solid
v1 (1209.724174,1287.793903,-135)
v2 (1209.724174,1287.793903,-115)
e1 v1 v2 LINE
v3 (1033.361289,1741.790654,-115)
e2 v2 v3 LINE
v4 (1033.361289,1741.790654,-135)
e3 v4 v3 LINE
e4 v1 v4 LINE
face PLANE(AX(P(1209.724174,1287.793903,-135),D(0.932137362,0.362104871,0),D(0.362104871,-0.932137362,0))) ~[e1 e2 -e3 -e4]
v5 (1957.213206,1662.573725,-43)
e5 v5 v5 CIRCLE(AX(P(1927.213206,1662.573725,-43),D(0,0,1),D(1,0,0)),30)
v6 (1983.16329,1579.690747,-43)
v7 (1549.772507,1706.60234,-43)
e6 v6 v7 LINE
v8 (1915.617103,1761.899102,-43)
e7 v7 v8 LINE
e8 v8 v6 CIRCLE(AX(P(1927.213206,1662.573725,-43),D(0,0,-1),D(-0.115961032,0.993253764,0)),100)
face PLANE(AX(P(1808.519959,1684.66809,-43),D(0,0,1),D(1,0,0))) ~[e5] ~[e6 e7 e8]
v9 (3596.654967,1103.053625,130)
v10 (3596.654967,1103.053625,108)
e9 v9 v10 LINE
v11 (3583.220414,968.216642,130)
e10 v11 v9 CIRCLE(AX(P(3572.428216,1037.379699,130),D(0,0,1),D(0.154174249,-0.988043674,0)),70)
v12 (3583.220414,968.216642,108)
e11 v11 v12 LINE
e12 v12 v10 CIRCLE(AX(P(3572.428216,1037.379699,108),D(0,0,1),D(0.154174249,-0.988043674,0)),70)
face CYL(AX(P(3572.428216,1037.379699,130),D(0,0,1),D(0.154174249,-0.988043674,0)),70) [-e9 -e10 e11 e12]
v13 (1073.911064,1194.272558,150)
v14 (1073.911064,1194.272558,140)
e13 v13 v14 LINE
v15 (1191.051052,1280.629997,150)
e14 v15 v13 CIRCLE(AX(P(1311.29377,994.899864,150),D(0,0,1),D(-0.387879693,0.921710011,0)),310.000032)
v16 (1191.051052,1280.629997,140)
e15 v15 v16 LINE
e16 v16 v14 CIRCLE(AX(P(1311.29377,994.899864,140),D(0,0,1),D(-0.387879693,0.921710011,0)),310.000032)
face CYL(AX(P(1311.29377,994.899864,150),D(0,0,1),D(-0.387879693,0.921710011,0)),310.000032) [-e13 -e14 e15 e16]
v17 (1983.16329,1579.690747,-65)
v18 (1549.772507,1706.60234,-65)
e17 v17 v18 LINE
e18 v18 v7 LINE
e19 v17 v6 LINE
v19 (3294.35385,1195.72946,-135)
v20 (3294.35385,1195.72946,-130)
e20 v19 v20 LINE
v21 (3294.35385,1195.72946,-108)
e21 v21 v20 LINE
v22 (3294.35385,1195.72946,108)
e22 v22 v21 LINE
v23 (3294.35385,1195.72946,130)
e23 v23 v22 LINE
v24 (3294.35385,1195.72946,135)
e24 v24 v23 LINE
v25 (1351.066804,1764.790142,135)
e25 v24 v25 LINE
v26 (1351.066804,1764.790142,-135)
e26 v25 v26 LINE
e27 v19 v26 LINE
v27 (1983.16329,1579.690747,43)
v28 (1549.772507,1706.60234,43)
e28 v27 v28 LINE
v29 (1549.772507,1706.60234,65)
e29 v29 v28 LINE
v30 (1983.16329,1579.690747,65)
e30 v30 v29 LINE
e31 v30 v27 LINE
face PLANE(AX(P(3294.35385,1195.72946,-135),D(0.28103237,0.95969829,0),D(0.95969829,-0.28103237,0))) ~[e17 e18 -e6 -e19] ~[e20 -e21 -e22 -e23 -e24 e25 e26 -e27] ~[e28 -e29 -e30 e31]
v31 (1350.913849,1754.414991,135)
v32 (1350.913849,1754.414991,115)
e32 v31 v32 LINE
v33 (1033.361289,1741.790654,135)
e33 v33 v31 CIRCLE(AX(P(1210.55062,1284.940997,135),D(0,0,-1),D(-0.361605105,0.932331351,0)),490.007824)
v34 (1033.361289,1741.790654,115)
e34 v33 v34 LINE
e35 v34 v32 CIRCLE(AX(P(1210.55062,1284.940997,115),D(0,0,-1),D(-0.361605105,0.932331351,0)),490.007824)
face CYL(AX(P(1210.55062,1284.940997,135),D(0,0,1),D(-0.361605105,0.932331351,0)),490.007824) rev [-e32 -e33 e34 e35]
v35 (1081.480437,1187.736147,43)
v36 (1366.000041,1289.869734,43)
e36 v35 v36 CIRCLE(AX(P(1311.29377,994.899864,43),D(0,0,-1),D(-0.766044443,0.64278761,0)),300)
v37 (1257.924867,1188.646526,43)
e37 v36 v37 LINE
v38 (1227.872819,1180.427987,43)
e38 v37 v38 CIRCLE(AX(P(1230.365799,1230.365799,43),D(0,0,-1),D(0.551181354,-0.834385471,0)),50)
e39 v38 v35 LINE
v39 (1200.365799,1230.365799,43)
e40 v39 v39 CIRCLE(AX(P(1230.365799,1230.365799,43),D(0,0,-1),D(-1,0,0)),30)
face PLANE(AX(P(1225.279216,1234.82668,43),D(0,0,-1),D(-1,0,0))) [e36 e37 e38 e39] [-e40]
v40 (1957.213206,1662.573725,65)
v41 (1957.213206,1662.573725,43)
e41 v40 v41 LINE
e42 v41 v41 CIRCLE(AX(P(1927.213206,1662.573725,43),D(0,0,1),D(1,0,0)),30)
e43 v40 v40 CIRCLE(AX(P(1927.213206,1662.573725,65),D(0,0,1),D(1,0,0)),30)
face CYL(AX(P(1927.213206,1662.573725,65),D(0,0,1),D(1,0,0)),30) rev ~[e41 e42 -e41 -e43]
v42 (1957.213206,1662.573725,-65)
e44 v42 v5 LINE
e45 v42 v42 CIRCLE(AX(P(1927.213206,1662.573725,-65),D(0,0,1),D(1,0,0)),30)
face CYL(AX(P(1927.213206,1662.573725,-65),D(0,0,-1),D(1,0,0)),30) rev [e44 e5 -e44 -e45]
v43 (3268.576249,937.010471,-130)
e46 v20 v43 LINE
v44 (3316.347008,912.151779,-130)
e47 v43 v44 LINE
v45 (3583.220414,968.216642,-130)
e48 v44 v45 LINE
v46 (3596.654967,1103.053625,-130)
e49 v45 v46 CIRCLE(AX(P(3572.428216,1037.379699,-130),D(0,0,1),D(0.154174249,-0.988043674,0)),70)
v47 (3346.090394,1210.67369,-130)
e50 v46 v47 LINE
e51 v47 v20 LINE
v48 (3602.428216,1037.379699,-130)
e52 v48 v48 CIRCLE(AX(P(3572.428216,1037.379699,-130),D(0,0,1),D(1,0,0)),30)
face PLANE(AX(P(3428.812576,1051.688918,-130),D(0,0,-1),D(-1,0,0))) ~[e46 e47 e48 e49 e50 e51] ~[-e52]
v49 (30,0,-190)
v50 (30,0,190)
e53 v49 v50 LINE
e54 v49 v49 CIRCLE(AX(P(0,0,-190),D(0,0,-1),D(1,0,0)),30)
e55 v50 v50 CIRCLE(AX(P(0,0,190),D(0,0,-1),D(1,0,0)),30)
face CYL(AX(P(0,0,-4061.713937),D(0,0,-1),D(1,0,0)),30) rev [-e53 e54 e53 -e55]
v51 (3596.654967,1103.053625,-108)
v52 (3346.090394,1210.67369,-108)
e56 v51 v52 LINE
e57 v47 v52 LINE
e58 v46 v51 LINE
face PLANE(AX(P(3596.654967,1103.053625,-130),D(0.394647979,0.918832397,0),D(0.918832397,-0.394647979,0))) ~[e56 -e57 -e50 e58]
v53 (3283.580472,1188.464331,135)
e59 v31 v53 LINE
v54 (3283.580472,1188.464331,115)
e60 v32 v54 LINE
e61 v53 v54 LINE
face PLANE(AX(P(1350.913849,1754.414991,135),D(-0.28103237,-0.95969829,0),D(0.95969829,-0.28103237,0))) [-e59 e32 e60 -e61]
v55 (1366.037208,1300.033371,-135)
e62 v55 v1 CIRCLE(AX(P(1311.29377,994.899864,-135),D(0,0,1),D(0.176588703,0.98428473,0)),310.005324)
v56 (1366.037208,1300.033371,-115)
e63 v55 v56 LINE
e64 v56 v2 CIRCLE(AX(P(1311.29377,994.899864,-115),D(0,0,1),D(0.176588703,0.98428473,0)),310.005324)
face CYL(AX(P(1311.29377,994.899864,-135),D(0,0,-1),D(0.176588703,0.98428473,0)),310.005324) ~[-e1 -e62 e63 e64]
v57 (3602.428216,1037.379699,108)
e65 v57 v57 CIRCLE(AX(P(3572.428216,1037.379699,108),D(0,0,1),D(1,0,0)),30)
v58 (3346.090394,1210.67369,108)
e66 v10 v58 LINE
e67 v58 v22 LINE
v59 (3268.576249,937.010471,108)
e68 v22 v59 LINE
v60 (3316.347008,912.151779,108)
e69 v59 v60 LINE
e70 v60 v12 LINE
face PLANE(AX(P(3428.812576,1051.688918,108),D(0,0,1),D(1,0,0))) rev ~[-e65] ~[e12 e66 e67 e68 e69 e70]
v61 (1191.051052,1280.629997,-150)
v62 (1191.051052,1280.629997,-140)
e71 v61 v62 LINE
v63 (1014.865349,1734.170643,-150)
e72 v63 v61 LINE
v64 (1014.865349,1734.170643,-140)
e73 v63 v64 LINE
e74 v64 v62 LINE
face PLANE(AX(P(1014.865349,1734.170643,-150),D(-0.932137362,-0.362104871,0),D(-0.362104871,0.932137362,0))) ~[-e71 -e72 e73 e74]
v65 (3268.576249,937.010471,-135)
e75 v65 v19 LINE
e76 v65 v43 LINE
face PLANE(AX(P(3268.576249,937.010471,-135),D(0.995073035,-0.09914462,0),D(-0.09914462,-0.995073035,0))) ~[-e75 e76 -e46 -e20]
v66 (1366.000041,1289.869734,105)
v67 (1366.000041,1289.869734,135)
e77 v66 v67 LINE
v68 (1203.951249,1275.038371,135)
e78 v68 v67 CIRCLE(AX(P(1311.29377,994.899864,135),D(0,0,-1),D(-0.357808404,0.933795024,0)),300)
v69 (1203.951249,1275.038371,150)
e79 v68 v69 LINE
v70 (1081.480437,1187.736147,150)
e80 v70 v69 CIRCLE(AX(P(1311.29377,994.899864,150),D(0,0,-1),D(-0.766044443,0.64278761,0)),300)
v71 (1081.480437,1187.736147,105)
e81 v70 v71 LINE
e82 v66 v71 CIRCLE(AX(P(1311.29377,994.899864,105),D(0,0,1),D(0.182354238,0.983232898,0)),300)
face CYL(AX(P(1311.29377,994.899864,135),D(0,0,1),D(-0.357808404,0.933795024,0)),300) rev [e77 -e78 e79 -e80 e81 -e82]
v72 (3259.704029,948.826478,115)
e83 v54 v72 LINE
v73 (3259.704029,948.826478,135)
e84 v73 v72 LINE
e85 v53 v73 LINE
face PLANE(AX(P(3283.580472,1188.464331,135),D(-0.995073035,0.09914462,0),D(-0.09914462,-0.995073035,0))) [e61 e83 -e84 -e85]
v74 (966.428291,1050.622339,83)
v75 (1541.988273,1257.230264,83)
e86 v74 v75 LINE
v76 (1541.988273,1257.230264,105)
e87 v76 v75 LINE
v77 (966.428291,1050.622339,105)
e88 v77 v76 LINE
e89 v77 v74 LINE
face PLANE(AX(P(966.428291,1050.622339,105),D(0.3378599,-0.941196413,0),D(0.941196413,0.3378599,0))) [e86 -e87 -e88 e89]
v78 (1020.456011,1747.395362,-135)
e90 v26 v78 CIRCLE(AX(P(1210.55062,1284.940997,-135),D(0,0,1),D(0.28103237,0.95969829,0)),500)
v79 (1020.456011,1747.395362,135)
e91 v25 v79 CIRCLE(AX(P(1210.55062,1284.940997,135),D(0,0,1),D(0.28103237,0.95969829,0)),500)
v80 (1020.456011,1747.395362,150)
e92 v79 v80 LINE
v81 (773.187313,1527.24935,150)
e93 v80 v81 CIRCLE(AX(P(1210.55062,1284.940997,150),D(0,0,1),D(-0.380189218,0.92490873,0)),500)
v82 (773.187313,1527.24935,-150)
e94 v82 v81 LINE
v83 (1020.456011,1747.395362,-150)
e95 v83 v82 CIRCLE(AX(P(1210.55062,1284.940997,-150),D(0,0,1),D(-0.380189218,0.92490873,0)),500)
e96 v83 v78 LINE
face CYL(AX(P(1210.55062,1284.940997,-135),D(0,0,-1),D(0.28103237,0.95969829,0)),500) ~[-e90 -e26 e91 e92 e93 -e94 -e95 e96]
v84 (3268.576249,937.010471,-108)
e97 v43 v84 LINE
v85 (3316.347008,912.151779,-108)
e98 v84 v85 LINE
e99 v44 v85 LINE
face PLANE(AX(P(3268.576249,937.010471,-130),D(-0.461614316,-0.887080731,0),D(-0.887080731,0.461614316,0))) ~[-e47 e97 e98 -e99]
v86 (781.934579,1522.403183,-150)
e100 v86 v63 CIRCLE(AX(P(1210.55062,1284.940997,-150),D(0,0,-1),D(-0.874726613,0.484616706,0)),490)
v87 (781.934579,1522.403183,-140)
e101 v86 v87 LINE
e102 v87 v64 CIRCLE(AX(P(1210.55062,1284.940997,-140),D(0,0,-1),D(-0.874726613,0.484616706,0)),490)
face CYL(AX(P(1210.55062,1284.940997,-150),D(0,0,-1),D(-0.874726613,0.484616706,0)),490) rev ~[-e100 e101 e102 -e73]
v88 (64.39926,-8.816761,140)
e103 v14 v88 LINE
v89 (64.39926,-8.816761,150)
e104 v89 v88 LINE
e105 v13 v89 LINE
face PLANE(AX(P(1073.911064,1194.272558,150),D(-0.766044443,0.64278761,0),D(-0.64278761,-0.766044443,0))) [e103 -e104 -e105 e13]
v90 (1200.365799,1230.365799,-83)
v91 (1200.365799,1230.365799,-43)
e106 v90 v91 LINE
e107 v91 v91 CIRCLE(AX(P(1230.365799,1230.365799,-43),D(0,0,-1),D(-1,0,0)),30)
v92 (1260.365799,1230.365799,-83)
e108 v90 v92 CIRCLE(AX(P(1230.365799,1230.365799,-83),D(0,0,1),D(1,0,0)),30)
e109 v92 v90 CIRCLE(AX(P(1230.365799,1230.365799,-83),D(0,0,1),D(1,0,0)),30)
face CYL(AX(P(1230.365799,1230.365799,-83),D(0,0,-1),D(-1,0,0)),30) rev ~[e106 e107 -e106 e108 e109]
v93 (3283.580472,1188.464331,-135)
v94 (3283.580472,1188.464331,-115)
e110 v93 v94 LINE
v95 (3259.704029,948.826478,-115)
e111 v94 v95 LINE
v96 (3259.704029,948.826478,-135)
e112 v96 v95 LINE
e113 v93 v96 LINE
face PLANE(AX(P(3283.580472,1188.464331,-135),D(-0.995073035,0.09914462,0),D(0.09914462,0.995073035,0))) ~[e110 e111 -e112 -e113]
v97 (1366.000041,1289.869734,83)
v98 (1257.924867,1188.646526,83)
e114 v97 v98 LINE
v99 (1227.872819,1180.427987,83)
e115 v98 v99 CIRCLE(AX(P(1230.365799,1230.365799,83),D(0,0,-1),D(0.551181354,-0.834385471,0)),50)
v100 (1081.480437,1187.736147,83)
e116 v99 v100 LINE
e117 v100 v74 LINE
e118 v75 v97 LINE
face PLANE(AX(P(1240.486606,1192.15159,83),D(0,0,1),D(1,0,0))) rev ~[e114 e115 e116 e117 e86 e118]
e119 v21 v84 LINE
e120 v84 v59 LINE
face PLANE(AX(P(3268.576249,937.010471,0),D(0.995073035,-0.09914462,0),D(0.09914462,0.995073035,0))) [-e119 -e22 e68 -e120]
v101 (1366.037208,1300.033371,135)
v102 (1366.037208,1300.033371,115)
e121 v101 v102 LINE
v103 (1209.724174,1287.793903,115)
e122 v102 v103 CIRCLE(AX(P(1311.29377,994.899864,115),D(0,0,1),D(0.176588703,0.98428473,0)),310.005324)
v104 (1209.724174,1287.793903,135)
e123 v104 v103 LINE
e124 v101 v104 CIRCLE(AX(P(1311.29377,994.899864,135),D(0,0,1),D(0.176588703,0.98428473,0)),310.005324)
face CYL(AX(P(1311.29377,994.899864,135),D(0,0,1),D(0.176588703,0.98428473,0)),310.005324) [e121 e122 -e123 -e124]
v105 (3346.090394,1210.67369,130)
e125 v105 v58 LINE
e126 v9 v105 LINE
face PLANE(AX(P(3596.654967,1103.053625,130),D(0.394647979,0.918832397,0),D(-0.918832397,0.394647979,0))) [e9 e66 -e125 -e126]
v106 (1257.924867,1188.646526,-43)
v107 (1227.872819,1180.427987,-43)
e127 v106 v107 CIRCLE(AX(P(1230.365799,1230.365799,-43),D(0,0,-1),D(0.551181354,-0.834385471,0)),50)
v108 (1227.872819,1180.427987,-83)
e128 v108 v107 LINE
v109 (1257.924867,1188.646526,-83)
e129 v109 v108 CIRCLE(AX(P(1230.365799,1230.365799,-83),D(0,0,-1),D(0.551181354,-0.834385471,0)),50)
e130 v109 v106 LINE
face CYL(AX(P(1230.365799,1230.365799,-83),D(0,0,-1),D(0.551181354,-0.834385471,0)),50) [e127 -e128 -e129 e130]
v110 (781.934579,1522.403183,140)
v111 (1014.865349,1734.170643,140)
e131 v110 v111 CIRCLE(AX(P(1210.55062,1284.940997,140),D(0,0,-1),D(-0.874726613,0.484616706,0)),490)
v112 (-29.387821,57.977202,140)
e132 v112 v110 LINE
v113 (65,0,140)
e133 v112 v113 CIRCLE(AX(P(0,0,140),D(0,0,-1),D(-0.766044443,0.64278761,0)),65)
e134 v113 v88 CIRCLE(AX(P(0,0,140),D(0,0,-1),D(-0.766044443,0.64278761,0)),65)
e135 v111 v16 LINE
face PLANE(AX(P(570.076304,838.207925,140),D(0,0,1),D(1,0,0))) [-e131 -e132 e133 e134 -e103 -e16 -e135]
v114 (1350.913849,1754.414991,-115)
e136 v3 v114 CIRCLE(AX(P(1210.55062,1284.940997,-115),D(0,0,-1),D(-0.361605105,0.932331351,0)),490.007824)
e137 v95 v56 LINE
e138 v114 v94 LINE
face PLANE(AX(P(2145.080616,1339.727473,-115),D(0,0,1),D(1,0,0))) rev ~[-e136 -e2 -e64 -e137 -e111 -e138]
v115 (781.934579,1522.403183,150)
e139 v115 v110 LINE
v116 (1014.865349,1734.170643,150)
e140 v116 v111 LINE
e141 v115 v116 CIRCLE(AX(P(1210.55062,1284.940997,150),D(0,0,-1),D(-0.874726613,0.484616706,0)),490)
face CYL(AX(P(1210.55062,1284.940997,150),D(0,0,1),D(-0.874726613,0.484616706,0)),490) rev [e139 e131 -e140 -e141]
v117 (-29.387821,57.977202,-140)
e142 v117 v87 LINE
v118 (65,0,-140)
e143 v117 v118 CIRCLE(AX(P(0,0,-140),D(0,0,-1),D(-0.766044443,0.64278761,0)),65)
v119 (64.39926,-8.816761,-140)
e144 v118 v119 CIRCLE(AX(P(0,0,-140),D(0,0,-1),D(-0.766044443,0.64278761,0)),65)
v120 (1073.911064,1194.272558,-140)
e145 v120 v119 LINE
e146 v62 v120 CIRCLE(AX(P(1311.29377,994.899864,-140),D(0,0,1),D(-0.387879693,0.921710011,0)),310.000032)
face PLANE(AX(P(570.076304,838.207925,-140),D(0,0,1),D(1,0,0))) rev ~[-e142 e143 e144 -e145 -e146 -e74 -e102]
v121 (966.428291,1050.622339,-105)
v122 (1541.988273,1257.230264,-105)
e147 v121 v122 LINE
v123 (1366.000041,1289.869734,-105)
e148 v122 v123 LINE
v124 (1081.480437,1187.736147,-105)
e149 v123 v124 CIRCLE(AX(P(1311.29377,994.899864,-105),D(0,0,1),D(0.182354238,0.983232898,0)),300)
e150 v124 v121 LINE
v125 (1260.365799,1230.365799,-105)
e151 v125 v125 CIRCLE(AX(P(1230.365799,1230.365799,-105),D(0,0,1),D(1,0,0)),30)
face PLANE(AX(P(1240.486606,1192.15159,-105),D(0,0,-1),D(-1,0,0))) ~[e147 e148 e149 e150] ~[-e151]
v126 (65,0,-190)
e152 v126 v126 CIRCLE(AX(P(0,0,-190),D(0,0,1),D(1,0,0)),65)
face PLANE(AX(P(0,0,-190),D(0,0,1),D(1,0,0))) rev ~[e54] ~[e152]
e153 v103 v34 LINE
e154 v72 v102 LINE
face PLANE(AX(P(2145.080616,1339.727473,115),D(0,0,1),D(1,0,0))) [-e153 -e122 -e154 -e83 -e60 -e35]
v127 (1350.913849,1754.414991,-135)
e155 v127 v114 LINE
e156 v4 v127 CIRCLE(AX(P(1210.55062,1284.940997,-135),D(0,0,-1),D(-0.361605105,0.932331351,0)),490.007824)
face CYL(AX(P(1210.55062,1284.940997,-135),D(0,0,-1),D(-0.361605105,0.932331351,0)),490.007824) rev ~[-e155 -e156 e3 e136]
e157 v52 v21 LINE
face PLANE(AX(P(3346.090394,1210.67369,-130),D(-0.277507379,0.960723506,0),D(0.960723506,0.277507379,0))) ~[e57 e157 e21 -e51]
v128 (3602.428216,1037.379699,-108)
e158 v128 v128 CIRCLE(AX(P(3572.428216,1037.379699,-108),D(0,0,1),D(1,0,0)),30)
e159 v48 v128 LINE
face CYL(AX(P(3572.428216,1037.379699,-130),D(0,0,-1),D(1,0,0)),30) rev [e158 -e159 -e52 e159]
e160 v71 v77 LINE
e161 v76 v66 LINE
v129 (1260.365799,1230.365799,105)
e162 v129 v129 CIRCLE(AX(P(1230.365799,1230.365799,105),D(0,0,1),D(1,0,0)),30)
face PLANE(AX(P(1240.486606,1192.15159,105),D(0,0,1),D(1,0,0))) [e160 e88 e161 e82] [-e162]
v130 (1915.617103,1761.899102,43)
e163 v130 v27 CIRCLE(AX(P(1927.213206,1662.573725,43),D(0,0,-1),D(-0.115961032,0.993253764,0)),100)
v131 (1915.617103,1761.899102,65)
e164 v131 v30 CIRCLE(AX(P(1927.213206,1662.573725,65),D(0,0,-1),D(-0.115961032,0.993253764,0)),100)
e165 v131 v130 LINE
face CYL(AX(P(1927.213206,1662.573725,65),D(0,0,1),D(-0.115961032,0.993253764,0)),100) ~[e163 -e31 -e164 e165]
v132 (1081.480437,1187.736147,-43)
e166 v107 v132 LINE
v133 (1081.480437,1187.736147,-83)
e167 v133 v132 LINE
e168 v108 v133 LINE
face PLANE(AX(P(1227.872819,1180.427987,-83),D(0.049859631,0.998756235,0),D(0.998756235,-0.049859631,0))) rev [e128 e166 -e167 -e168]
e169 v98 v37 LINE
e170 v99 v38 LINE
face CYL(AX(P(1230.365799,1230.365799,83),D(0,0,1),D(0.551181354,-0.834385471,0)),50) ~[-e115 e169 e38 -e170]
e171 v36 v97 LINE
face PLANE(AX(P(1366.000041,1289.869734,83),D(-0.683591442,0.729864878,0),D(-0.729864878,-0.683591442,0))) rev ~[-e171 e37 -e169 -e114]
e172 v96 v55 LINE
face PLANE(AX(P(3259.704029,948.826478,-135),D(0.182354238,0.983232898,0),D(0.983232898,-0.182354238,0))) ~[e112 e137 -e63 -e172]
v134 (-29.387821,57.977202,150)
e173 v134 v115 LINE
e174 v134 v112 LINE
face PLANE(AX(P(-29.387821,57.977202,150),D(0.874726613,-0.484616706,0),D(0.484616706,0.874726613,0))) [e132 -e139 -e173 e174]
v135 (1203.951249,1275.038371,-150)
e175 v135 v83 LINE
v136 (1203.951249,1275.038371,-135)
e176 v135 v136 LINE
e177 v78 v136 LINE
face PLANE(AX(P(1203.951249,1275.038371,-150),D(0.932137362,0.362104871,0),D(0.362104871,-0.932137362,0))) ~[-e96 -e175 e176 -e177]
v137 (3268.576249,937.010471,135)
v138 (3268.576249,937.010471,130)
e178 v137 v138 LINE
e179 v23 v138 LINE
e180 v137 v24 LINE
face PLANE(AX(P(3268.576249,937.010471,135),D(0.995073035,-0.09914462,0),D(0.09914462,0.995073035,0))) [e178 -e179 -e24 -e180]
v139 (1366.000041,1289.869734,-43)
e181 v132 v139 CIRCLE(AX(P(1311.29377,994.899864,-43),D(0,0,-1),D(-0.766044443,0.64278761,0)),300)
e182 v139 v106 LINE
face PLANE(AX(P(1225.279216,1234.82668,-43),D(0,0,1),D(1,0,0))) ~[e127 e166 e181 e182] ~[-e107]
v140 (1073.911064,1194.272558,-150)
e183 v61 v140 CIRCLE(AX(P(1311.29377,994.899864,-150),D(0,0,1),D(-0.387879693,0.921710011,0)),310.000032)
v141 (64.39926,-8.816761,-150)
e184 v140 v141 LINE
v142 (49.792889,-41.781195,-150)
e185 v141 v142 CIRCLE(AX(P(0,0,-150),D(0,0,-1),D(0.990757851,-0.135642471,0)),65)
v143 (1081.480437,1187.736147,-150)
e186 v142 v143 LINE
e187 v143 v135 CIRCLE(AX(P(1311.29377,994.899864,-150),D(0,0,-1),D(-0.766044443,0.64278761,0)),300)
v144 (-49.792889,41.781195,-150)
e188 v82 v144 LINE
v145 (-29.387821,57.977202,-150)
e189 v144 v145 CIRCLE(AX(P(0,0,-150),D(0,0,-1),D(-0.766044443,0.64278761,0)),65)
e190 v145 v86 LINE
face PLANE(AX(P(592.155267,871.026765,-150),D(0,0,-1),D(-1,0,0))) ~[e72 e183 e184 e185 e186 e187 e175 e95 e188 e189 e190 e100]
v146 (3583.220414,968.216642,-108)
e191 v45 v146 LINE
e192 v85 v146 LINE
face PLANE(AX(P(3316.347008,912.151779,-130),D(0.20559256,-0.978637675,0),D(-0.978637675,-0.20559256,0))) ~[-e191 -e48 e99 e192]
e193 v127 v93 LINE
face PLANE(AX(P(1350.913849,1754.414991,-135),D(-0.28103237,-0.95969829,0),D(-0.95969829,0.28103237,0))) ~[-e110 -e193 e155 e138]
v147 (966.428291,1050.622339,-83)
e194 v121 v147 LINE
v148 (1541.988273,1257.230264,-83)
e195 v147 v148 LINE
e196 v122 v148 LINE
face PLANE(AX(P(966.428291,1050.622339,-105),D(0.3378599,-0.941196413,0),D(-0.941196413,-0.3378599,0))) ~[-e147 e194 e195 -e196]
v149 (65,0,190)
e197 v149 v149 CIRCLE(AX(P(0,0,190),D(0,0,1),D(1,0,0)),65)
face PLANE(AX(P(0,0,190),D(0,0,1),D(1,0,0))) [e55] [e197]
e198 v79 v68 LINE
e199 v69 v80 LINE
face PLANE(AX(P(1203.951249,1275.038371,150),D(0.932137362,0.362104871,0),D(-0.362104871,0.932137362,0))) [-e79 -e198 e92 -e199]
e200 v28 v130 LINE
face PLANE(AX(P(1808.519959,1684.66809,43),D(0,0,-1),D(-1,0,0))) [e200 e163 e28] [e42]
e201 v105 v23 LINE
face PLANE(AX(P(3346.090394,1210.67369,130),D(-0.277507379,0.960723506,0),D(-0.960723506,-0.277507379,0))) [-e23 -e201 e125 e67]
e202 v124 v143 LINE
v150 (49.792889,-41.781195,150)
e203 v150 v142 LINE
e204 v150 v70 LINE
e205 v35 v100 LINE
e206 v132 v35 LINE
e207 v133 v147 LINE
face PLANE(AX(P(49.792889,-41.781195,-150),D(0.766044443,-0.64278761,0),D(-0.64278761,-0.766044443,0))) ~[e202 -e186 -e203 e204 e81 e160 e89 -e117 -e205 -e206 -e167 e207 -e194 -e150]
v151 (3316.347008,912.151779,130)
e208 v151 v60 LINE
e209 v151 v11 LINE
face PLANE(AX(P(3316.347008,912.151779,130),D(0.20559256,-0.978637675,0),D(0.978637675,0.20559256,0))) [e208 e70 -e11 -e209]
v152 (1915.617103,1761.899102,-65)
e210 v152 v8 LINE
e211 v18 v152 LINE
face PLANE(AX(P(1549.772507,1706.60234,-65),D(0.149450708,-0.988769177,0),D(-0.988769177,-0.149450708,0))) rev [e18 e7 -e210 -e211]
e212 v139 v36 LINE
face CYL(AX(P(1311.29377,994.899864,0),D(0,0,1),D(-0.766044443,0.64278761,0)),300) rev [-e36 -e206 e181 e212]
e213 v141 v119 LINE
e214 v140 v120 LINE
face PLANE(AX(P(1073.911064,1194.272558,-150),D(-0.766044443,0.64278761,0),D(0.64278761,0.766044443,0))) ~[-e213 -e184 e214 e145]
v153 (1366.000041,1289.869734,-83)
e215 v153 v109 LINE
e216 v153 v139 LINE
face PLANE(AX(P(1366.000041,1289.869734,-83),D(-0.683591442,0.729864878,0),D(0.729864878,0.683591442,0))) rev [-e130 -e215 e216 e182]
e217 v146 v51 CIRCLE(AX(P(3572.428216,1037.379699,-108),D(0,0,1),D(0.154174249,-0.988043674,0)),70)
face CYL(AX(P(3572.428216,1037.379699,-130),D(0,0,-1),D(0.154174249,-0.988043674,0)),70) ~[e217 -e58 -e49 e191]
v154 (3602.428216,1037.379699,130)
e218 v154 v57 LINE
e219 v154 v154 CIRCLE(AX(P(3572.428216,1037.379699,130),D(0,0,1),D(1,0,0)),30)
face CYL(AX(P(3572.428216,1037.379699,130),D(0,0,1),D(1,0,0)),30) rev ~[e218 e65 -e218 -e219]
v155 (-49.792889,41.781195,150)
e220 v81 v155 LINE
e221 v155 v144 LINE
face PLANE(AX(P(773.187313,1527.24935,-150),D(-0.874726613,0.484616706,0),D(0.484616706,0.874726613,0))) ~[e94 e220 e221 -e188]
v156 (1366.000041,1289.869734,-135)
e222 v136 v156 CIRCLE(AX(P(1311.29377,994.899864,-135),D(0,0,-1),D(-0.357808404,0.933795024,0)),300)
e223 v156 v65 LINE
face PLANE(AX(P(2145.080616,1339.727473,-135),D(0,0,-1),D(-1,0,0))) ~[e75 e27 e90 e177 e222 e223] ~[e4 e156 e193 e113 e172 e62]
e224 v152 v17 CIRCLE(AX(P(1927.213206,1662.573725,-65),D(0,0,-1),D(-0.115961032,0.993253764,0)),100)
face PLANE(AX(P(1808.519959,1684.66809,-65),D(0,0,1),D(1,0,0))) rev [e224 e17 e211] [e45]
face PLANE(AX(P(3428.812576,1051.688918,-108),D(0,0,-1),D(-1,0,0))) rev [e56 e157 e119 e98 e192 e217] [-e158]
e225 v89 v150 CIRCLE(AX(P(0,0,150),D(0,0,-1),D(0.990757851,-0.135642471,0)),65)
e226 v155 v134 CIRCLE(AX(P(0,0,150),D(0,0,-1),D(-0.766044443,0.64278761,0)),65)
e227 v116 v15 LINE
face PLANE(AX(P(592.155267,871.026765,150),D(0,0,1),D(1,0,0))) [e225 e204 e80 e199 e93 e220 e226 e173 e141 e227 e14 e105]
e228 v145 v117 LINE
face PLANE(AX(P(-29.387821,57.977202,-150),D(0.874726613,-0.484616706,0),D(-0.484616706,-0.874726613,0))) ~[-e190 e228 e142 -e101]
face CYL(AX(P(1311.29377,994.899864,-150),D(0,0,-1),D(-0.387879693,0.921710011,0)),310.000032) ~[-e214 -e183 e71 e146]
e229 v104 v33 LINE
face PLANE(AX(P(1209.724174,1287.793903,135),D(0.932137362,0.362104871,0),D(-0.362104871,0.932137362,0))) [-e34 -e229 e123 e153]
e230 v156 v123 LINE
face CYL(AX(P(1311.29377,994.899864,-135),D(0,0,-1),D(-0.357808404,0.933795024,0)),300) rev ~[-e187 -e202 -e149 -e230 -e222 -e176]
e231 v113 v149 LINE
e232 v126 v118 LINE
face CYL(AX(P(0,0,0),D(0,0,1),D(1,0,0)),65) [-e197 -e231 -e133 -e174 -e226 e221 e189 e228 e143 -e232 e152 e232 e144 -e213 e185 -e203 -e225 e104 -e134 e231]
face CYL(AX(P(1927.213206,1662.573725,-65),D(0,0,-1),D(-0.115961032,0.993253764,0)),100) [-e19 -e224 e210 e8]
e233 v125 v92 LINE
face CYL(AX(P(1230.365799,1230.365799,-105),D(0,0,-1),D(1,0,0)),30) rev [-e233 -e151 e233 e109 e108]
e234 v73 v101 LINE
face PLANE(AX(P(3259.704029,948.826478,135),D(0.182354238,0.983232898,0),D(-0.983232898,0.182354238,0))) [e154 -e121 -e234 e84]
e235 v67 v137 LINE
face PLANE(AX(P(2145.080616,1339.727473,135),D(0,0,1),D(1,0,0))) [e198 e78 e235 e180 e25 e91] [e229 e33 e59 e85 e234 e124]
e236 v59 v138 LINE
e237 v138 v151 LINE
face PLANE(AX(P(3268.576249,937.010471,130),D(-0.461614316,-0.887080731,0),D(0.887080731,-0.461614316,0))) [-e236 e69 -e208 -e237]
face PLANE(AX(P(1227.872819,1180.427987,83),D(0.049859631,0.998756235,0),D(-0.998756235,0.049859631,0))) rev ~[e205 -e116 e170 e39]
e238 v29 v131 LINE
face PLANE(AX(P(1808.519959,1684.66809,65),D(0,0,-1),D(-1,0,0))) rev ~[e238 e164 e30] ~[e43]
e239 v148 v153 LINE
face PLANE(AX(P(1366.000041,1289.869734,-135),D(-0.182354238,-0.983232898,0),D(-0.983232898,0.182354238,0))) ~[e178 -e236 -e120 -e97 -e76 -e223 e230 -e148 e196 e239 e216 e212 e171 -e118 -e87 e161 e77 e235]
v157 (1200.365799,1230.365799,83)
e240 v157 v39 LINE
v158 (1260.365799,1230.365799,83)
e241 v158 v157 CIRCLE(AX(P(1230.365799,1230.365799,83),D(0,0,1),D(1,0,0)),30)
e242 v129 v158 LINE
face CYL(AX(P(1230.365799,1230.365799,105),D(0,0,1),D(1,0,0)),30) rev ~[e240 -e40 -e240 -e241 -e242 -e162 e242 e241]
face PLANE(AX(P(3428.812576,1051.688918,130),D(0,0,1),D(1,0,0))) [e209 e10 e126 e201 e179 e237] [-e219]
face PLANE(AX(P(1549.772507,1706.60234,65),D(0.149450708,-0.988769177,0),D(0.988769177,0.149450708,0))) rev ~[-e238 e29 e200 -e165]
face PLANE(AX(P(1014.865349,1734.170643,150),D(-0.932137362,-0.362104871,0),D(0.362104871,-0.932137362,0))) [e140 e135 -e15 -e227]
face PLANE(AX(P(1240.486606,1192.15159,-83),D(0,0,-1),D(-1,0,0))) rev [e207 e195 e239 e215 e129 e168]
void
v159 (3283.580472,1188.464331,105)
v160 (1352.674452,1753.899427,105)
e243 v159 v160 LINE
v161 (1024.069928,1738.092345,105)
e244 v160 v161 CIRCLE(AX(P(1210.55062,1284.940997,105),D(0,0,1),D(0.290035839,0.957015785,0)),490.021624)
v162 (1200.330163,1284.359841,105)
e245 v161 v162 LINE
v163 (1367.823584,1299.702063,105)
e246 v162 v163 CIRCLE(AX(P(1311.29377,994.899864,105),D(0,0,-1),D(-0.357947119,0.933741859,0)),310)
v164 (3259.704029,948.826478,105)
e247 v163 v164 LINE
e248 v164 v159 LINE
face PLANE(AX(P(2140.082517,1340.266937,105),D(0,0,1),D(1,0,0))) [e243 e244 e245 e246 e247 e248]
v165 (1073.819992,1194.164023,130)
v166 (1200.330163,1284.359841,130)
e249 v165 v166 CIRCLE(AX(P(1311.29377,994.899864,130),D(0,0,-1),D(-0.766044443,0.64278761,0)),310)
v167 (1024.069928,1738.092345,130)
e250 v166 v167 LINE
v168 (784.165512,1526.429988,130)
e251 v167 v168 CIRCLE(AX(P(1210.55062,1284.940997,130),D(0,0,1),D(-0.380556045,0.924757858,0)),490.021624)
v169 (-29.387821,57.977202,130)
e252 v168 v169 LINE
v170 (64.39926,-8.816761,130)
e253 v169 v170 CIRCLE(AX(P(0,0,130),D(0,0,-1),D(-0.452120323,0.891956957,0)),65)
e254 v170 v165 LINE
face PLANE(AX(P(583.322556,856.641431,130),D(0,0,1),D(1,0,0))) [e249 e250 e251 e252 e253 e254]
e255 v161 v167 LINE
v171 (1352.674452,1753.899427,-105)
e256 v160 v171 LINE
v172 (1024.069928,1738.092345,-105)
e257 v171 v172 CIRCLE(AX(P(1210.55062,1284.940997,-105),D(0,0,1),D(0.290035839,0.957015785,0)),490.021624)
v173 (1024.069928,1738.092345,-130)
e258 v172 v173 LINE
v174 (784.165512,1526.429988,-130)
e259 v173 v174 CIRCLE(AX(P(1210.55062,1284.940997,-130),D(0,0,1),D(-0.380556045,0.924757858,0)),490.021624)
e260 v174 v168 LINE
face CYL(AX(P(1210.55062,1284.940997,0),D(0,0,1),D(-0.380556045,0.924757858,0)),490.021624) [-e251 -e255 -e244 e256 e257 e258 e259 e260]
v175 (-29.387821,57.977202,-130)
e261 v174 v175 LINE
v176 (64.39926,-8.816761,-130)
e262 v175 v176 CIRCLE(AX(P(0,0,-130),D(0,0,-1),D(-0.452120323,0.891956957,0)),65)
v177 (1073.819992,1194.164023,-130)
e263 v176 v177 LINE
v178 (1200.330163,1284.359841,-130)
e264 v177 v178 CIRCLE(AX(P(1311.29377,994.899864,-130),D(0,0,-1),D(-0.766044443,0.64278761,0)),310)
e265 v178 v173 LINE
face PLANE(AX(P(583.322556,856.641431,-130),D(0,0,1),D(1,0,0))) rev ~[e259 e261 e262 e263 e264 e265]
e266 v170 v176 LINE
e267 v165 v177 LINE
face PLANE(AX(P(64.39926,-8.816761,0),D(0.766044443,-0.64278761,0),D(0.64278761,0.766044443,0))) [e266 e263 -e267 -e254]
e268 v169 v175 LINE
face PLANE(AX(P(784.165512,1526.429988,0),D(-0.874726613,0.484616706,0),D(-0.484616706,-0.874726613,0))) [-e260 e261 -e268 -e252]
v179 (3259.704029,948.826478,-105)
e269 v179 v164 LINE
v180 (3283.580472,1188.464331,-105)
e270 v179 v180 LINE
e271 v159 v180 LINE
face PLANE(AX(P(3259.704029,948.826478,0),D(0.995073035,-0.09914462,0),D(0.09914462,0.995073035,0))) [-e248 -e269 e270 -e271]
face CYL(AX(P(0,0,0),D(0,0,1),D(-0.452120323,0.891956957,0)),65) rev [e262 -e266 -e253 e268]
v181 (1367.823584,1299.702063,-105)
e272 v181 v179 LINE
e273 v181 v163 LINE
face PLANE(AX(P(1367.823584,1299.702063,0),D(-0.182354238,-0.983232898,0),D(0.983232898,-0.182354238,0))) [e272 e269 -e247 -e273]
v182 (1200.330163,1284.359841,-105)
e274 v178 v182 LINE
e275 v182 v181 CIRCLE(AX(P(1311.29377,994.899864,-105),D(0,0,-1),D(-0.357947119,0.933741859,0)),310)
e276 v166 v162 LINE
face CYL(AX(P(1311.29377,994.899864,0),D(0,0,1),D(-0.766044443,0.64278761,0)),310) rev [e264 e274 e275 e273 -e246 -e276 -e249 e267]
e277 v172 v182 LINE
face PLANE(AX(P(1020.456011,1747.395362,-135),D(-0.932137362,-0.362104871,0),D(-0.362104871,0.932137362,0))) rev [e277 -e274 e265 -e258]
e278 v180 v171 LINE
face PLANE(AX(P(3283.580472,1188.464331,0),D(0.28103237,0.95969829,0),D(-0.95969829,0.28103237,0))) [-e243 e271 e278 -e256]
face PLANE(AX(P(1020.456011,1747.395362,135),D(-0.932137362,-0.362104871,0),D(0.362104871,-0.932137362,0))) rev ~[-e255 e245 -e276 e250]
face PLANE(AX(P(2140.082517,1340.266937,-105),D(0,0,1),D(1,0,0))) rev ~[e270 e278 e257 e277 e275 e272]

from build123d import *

# Parameters (mm, degrees)
BOSS_EXTRUDE1_DEPTH     = 140
BOSS_EXTRUDE2_DEPTH     = 190
BOSS_EXTRUDE3_DEPTH     = 115
SKETCH2_R               = 29.999999999999844
BOSS_EXTRUDE4_DEPTH     = 22
SKETCH4_R               = 30.000000000000057
BOSS_EXTRUDE5_DEPTH     = 22
SKETCH5_R               = 30.000000000000057
BOSS_EXTRUDE6_DEPTH     = 22
CUT_EXTRUDE1_DEPTH      = 4061.7139365889066
CUT_EXTRUDE1_DEPTH_BACK = 4061.7139365889066
SKETCH6_R               = 30
CUT_EXTRUDE2_DEPTH      = 105
CUT_EXTRUDE3_DEPTH      = 130
SKETCH9_R               = 30.000000000000057
BOSS_EXTRUDE8_DEPTH     = 40
BOSS_EXTRUDE9_START     = 10
BOSS_EXTRUDE9_DEPTH     = 10
BOSS_EXTRUDE10_START    = 20
BOSS_EXTRUDE10_DEPTH    = 20


with BuildPart() as part:
    # Sketch1 → Boss-Extrude1 (new, symmetric)
    with BuildSketch(Plane.XY):
        with BuildLine():
            ThreePointArc((65, -1.592e-14), (61.080020351084045, -22.23130931616846), (49.792888802733636, -41.781194629624984))
            Line((49.79288880273364, -41.78119462962495), (1081.4804368301984, 1187.7361471668223))
            ThreePointArc((1081.4804368301984, 1187.7361471668223), (1137.156074050822, 1239.1867098564549), (1203.951248641351, 1275.038371358024))
            Line((1203.9512486413507, 1275.0383713580243), (1020.4560106462599, 1747.3953623265181))
            ThreePointArc((1020.4560106462598, 1747.3953623265184), (878.0721607669617, 1658.3818553513138), (773.1873129694607, 1527.2493504832594))
            Line((773.1873129694607, 1527.2493504832594), (-49.792888802733614, 41.781194629624906))
            ThreePointArc((-49.792888802733636, 41.78119462962498), (22.23130931616842, 61.08002035108406), (65, 0))
        make_face()
    extrude(amount=BOSS_EXTRUDE1_DEPTH, both=True)

    # Sketch1<3> → Boss-Extrude2 (add, symmetric)
    with BuildSketch(Plane.XY):
        with BuildLine():
            ThreePointArc((-49.792888802733636, 41.78119462962498), (-41.78119462962498, -49.792888802733636), (49.792888802733636, -41.781194629624984))
            ThreePointArc((49.792888802733636, -41.781194629624984), (61.080020351084045, -22.23130931616846), (65, -1.592e-14))
            ThreePointArc((65, 0), (22.23130931616842, 61.08002035108406), (-49.792888802733636, 41.78119462962498))
        make_face()
    extrude(amount=BOSS_EXTRUDE2_DEPTH, both=True)

    # Sketch1<4> → Boss-Extrude3 (add, symmetric)
    with BuildSketch(Plane.XY):
        with BuildLine():
            Line((1020.4560106462599, 1747.3953623265181), (1203.9512486413507, 1275.0383713580243))
            ThreePointArc((1203.951248641351, 1275.038371358024), (1283.9508361288626, 1293.6512056471731), (1366.0000412931197, 1289.8697336638038))
            Line((1366.0000412931197, 1289.8697336638038), (3268.576248845471, 937.0104710473246))
            Line((3268.576248845471, 937.0104710473246), (3294.3538500413274, 1195.729460061636))
            Line((3294.3538500413274, 1195.729460061636), (1351.066804500354, 1764.790142245739))
            ThreePointArc((1351.066804500354, 1764.790142245739), (1184.2799206207571, 1784.2503708211993), (1020.4560106462598, 1747.3953623265184))
        make_face()
    extrude(amount=BOSS_EXTRUDE3_DEPTH, both=True)

    # Sketch2 → Boss-Extrude4 (add)
    with BuildSketch(Plane.XY.offset(130)):
        with BuildLine():
            Line((3316.347008179312, 912.1517793547129), (3583.220413673133, 968.2166417593702))
            ThreePointArc((3583.220413673133, 968.2166417593702), (3642.083328680258, 1030.4395755142295), (3596.6549667093313, 1103.0536249594716))
            Line((3596.6549667093313, 1103.0536249594716), (3346.0903941745296, 1210.6736897558415))
            Line((3346.0903941745296, 1210.6736897558415), (3294.3538500413274, 1195.7294600616358))
            Line((3294.3538500413274, 1195.7294600616358), (3268.5762488454716, 937.0104710473244))
            Line((3268.5762488454716, 937.0104710473244), (3316.347008179312, 912.1517793547129))
        make_face()
        with Locations((3572.428216253328, 1037.3796989131135)):
            Circle(SKETCH2_R, mode=Mode.SUBTRACT)
    boss_extrude4 = extrude(amount=-BOSS_EXTRUDE4_DEPTH)

    # Mirror1: Boss-Extrude4 across plane
    add(boss_extrude4.mirror(Plane.XY))

    # Sketch4 → Boss-Extrude5 (add)
    with BuildSketch(Plane.XY.offset(105)):
        with BuildLine():
            Line((1081.4804368301984, 1187.7361471668223), (966.4282906591733, 1050.6223386318286))
            Line((966.4282906591733, 1050.6223386318286), (1541.9882734825221, 1257.2302642995674))
            Line((1541.9882734825221, 1257.2302642995674), (1366.0000412931197, 1289.8697336638038))
            ThreePointArc((1366.0000412931197, 1289.8697336638038), (1209.9357996231295, 1277.2587881300008), (1081.4804368301984, 1187.7361471668223))
        make_face()
        with Locations((1230.36579926459, 1230.3657992645947)):
            Circle(SKETCH4_R, mode=Mode.SUBTRACT)
    boss_extrude5 = extrude(amount=-BOSS_EXTRUDE5_DEPTH)

    # Mirror2: Boss-Extrude5 across plane
    add(boss_extrude5.mirror(Plane.XY))

    # Sketch5 → Boss-Extrude6 (add)
    with BuildSketch(Plane.XY.offset(65)):
        with BuildLine():
            Line((1549.7725074062366, 1706.602339723742), (1915.617102975737, 1761.8991017680858))
            ThreePointArc((1915.617102975737, 1761.8991017680858), (2020.9777520024375, 1697.3330400459488), (1983.1632899241847, 1579.6907468543984))
            Line((1983.1632899241847, 1579.6907468543984), (1549.7725074062366, 1706.602339723742))
        make_face()
        with Locations((1927.2132062202722, 1662.5737254056373)):
            Circle(SKETCH5_R, mode=Mode.SUBTRACT)
    boss_extrude6 = extrude(amount=-BOSS_EXTRUDE6_DEPTH)

    # Mirror3: Boss-Extrude6 across plane
    add(boss_extrude6.mirror(Plane.XY))

    # Sketch6 → Cut-Extrude1 (cut, two sides: drawn at the far end of the back side and taken through both)
    with BuildSketch(Plane.XY.offset(-CUT_EXTRUDE1_DEPTH_BACK)):
        Circle(SKETCH6_R)
    extrude(amount=CUT_EXTRUDE1_DEPTH + CUT_EXTRUDE1_DEPTH_BACK, mode=Mode.SUBTRACT)

    # Sketch7 → Cut-Extrude2 (cut, symmetric)
    with BuildSketch(Plane.XY):
        with BuildLine():
            Line((1024.0699284450966, 1738.0923452252694), (1200.3301627751682, 1284.3598406368847))
            ThreePointArc((1200.3301627751682, 1284.3598406368847), (1283.0164749646392, 1303.6074841841842), (1367.8235836773604, 1299.702062643902))
            Line((1367.8235836773604, 1299.702062643902), (3259.704029255034, 948.8264780890555))
            Line((3259.704029255034, 948.8264780890555), (3283.580471521982, 1188.4643310307968))
            Line((3283.580471521982, 1188.4643310307968), (1352.6744523210061, 1753.8994267060289))
            ThreePointArc((1352.6744523210061, 1753.8994267060289), (1213.394373329098, 1774.9543699676724), (1073.8793026905835, 1755.51739220688))
            ThreePointArc((1073.8793026905835, 1755.51739220688), (1048.7398871235857, 1747.4758383231158), (1024.0699284450966, 1738.0923452252696))
        make_face()
    extrude(amount=CUT_EXTRUDE2_DEPTH, both=True, mode=Mode.SUBTRACT)

    # Sketch7<3> → Cut-Extrude3 (cut, symmetric)
    with BuildSketch(Plane.XY):
        with BuildLine():
            ThreePointArc((1073.8199923990087, 1194.1640232636878), (1131.3327348933467, 1247.316238388219), (1200.3301627751682, 1284.3598406368847))
            Line((1200.3301627751682, 1284.3598406368847), (1024.0699284450966, 1738.0923452252694))
            ThreePointArc((1024.0699284450966, 1738.0923452252696), (886.3572203673968, 1652.3914458778913), (784.1655123326112, 1526.4299877886158))
            Line((784.1655123326113, 1526.4299877886158), (-29.387821008213336, 57.97720221250097))
            ThreePointArc((-29.387821008213336, 57.97720221250086), (37.706877201397155, 52.94517363951841), (64.39926034060059, -8.816760606002008))
            Line((64.39926034060059, -8.816760606001992), (1073.8199923990087, 1194.1640232636878))
        make_face()
    extrude(amount=CUT_EXTRUDE3_DEPTH, both=True, mode=Mode.SUBTRACT)

    # Sketch9 → Boss-Extrude8 (add)
    with BuildSketch(Plane(origin=(0, 0, 82.99999999999999), x_dir=(-1, 0, 0), z_dir=(0, 0, -1))):
        with BuildLine():
            ThreePointArc((-1257.9248669828, 1188.6465257030486), (-1243.5553130328078, 1182.1367963041562), (-1227.8728186550686, 1180.4279874615074))
            Line((-1227.8728186550686, 1180.4279874615074), (-1081.4804368301982, 1187.736147166822))
            ThreePointArc((-1081.4804368301982, 1187.736147166822), (-1209.9357996231292, 1277.258788130001), (-1366.00004129312, 1289.8697336638038))
            Line((-1366.0000412931197, 1289.8697336638038), (-1257.9248669827998, 1188.6465257030488))
        make_face()
        with Locations((-1230.36579926459, 1230.3657992645947)):
            Circle(SKETCH9_R, mode=Mode.SUBTRACT)
    boss_extrude8 = extrude(amount=BOSS_EXTRUDE8_DEPTH)

    # Mirror5: Boss-Extrude8 across plane
    add(boss_extrude8.mirror(Plane.XY))

    # Sketch10 → Boss-Extrude9 (add)
    with BuildSketch(Plane.XY.offset(140).offset(BOSS_EXTRUDE9_START)):
        with BuildLine():
            ThreePointArc((1081.4804368301982, 1187.736147166822), (1137.156074050822, 1239.186709856455), (1203.951248641351, 1275.0383713580243))
            Line((1203.951248641351, 1275.0383713580243), (1020.4560106462601, 1747.3953623265181))
            ThreePointArc((1020.4560106462601, 1747.3953623265181), (878.072160766962, 1658.3818553513136), (773.1873129694607, 1527.2493504832594))
            Line((773.1873129694607, 1527.2493504832594), (-49.7928888027335, 41.78119462962513))
            ThreePointArc((-49.79288880273354, 41.781194629625126), (-40.410071355387224, 50.91194489559906), (-29.387821008213336, 57.977202212500885))
            Line((-29.387821008213336, 57.97720221250097), (781.934579103123, 1522.4031834218724))
            ThreePointArc((781.9345791031229, 1522.4031834218724), (880.9305411746955, 1647.5021699961562), (1014.8653487547539, 1734.1706433119002))
            Line((1014.8653487547539, 1734.1706433119002), (1191.051052278277, 1280.6299973673715))
            ThreePointArc((1191.051052278277, 1280.6299973673717), (1127.3416356078974, 1244.4226736643095), (1073.9110640180447, 1194.2725581928576))
            Line((1073.9110640180447, 1194.2725581928576), (64.39926034060068, -8.816760606001935))
            ThreePointArc((64.3992603406006, -8.816760606001868), (59.42747856941116, -26.332010764128448), (49.79288880273364, -41.781194629624956))
            Line((49.79288880273365, -41.781194629624956), (1081.4804368301982, 1187.736147166822))
        make_face()
    boss_extrude9 = extrude(amount=-BOSS_EXTRUDE9_DEPTH)

    # Mirror6: Boss-Extrude9 across plane
    add(boss_extrude9.mirror(Plane.XY))

    # Sketch11 → Boss-Extrude10 (add)
    with BuildSketch(Plane.XY.offset(115).offset(BOSS_EXTRUDE10_START)):
        with BuildLine():
            Line((1024.0699284450966, 1738.0923452252691), (1200.3301627751687, 1284.359840636885))
            Line((1200.3301627751687, 1284.359840636885), (1203.951248641351, 1275.0383713580243))
            ThreePointArc((1203.951248641351, 1275.0383713580243), (1283.9508361288626, 1293.6512056471734), (1366.00004129312, 1289.8697336638038))
            Line((1366.00004129312, 1289.8697336638038), (3268.5762488454716, 937.0104710473244))
            Line((3268.5762488454716, 937.0104710473244), (3294.3538500413274, 1195.7294600616358))
            Line((3294.3538500413274, 1195.7294600616358), (1351.0668045003542, 1764.790142245739))
            ThreePointArc((1351.0668045003542, 1764.790142245739), (1184.2799206207574, 1784.2503708211993), (1020.4560106462601, 1747.3953623265181))
            Line((1020.4560106462601, 1747.3953623265181), (1024.0699284450966, 1738.0923452252691))
        make_face()
        with BuildLine():
            Line((3259.704029255035, 948.8264780890559), (1366.0372079275185, 1300.0333709128395))
            ThreePointArc((1366.0372079275185, 1300.0333709128395), (1287.0941128924526, 1303.959207285298), (1209.7241743097554, 1287.7939034326503))
            Line((1209.7241743097554, 1287.7939034326503), (1033.3612892265444, 1741.7906535753216))
            ThreePointArc((1033.3612892265444, 1741.7906535753216), (1191.085679257279, 1774.5620582834817), (1350.9138490858948, 1754.4149913418998))
            Line((1350.9138490858948, 1754.4149913418998), (3283.5804715219824, 1188.464331030797))
            Line((3283.5804715219824, 1188.464331030797), (3259.704029255035, 948.8264780890559))
        make_face(mode=Mode.SUBTRACT)
    boss_extrude10 = extrude(amount=-BOSS_EXTRUDE10_DEPTH)

    # Mirror7: Boss-Extrude10 across plane
    add(boss_extrude10.mirror(Plane.XY))


solid = part.part
